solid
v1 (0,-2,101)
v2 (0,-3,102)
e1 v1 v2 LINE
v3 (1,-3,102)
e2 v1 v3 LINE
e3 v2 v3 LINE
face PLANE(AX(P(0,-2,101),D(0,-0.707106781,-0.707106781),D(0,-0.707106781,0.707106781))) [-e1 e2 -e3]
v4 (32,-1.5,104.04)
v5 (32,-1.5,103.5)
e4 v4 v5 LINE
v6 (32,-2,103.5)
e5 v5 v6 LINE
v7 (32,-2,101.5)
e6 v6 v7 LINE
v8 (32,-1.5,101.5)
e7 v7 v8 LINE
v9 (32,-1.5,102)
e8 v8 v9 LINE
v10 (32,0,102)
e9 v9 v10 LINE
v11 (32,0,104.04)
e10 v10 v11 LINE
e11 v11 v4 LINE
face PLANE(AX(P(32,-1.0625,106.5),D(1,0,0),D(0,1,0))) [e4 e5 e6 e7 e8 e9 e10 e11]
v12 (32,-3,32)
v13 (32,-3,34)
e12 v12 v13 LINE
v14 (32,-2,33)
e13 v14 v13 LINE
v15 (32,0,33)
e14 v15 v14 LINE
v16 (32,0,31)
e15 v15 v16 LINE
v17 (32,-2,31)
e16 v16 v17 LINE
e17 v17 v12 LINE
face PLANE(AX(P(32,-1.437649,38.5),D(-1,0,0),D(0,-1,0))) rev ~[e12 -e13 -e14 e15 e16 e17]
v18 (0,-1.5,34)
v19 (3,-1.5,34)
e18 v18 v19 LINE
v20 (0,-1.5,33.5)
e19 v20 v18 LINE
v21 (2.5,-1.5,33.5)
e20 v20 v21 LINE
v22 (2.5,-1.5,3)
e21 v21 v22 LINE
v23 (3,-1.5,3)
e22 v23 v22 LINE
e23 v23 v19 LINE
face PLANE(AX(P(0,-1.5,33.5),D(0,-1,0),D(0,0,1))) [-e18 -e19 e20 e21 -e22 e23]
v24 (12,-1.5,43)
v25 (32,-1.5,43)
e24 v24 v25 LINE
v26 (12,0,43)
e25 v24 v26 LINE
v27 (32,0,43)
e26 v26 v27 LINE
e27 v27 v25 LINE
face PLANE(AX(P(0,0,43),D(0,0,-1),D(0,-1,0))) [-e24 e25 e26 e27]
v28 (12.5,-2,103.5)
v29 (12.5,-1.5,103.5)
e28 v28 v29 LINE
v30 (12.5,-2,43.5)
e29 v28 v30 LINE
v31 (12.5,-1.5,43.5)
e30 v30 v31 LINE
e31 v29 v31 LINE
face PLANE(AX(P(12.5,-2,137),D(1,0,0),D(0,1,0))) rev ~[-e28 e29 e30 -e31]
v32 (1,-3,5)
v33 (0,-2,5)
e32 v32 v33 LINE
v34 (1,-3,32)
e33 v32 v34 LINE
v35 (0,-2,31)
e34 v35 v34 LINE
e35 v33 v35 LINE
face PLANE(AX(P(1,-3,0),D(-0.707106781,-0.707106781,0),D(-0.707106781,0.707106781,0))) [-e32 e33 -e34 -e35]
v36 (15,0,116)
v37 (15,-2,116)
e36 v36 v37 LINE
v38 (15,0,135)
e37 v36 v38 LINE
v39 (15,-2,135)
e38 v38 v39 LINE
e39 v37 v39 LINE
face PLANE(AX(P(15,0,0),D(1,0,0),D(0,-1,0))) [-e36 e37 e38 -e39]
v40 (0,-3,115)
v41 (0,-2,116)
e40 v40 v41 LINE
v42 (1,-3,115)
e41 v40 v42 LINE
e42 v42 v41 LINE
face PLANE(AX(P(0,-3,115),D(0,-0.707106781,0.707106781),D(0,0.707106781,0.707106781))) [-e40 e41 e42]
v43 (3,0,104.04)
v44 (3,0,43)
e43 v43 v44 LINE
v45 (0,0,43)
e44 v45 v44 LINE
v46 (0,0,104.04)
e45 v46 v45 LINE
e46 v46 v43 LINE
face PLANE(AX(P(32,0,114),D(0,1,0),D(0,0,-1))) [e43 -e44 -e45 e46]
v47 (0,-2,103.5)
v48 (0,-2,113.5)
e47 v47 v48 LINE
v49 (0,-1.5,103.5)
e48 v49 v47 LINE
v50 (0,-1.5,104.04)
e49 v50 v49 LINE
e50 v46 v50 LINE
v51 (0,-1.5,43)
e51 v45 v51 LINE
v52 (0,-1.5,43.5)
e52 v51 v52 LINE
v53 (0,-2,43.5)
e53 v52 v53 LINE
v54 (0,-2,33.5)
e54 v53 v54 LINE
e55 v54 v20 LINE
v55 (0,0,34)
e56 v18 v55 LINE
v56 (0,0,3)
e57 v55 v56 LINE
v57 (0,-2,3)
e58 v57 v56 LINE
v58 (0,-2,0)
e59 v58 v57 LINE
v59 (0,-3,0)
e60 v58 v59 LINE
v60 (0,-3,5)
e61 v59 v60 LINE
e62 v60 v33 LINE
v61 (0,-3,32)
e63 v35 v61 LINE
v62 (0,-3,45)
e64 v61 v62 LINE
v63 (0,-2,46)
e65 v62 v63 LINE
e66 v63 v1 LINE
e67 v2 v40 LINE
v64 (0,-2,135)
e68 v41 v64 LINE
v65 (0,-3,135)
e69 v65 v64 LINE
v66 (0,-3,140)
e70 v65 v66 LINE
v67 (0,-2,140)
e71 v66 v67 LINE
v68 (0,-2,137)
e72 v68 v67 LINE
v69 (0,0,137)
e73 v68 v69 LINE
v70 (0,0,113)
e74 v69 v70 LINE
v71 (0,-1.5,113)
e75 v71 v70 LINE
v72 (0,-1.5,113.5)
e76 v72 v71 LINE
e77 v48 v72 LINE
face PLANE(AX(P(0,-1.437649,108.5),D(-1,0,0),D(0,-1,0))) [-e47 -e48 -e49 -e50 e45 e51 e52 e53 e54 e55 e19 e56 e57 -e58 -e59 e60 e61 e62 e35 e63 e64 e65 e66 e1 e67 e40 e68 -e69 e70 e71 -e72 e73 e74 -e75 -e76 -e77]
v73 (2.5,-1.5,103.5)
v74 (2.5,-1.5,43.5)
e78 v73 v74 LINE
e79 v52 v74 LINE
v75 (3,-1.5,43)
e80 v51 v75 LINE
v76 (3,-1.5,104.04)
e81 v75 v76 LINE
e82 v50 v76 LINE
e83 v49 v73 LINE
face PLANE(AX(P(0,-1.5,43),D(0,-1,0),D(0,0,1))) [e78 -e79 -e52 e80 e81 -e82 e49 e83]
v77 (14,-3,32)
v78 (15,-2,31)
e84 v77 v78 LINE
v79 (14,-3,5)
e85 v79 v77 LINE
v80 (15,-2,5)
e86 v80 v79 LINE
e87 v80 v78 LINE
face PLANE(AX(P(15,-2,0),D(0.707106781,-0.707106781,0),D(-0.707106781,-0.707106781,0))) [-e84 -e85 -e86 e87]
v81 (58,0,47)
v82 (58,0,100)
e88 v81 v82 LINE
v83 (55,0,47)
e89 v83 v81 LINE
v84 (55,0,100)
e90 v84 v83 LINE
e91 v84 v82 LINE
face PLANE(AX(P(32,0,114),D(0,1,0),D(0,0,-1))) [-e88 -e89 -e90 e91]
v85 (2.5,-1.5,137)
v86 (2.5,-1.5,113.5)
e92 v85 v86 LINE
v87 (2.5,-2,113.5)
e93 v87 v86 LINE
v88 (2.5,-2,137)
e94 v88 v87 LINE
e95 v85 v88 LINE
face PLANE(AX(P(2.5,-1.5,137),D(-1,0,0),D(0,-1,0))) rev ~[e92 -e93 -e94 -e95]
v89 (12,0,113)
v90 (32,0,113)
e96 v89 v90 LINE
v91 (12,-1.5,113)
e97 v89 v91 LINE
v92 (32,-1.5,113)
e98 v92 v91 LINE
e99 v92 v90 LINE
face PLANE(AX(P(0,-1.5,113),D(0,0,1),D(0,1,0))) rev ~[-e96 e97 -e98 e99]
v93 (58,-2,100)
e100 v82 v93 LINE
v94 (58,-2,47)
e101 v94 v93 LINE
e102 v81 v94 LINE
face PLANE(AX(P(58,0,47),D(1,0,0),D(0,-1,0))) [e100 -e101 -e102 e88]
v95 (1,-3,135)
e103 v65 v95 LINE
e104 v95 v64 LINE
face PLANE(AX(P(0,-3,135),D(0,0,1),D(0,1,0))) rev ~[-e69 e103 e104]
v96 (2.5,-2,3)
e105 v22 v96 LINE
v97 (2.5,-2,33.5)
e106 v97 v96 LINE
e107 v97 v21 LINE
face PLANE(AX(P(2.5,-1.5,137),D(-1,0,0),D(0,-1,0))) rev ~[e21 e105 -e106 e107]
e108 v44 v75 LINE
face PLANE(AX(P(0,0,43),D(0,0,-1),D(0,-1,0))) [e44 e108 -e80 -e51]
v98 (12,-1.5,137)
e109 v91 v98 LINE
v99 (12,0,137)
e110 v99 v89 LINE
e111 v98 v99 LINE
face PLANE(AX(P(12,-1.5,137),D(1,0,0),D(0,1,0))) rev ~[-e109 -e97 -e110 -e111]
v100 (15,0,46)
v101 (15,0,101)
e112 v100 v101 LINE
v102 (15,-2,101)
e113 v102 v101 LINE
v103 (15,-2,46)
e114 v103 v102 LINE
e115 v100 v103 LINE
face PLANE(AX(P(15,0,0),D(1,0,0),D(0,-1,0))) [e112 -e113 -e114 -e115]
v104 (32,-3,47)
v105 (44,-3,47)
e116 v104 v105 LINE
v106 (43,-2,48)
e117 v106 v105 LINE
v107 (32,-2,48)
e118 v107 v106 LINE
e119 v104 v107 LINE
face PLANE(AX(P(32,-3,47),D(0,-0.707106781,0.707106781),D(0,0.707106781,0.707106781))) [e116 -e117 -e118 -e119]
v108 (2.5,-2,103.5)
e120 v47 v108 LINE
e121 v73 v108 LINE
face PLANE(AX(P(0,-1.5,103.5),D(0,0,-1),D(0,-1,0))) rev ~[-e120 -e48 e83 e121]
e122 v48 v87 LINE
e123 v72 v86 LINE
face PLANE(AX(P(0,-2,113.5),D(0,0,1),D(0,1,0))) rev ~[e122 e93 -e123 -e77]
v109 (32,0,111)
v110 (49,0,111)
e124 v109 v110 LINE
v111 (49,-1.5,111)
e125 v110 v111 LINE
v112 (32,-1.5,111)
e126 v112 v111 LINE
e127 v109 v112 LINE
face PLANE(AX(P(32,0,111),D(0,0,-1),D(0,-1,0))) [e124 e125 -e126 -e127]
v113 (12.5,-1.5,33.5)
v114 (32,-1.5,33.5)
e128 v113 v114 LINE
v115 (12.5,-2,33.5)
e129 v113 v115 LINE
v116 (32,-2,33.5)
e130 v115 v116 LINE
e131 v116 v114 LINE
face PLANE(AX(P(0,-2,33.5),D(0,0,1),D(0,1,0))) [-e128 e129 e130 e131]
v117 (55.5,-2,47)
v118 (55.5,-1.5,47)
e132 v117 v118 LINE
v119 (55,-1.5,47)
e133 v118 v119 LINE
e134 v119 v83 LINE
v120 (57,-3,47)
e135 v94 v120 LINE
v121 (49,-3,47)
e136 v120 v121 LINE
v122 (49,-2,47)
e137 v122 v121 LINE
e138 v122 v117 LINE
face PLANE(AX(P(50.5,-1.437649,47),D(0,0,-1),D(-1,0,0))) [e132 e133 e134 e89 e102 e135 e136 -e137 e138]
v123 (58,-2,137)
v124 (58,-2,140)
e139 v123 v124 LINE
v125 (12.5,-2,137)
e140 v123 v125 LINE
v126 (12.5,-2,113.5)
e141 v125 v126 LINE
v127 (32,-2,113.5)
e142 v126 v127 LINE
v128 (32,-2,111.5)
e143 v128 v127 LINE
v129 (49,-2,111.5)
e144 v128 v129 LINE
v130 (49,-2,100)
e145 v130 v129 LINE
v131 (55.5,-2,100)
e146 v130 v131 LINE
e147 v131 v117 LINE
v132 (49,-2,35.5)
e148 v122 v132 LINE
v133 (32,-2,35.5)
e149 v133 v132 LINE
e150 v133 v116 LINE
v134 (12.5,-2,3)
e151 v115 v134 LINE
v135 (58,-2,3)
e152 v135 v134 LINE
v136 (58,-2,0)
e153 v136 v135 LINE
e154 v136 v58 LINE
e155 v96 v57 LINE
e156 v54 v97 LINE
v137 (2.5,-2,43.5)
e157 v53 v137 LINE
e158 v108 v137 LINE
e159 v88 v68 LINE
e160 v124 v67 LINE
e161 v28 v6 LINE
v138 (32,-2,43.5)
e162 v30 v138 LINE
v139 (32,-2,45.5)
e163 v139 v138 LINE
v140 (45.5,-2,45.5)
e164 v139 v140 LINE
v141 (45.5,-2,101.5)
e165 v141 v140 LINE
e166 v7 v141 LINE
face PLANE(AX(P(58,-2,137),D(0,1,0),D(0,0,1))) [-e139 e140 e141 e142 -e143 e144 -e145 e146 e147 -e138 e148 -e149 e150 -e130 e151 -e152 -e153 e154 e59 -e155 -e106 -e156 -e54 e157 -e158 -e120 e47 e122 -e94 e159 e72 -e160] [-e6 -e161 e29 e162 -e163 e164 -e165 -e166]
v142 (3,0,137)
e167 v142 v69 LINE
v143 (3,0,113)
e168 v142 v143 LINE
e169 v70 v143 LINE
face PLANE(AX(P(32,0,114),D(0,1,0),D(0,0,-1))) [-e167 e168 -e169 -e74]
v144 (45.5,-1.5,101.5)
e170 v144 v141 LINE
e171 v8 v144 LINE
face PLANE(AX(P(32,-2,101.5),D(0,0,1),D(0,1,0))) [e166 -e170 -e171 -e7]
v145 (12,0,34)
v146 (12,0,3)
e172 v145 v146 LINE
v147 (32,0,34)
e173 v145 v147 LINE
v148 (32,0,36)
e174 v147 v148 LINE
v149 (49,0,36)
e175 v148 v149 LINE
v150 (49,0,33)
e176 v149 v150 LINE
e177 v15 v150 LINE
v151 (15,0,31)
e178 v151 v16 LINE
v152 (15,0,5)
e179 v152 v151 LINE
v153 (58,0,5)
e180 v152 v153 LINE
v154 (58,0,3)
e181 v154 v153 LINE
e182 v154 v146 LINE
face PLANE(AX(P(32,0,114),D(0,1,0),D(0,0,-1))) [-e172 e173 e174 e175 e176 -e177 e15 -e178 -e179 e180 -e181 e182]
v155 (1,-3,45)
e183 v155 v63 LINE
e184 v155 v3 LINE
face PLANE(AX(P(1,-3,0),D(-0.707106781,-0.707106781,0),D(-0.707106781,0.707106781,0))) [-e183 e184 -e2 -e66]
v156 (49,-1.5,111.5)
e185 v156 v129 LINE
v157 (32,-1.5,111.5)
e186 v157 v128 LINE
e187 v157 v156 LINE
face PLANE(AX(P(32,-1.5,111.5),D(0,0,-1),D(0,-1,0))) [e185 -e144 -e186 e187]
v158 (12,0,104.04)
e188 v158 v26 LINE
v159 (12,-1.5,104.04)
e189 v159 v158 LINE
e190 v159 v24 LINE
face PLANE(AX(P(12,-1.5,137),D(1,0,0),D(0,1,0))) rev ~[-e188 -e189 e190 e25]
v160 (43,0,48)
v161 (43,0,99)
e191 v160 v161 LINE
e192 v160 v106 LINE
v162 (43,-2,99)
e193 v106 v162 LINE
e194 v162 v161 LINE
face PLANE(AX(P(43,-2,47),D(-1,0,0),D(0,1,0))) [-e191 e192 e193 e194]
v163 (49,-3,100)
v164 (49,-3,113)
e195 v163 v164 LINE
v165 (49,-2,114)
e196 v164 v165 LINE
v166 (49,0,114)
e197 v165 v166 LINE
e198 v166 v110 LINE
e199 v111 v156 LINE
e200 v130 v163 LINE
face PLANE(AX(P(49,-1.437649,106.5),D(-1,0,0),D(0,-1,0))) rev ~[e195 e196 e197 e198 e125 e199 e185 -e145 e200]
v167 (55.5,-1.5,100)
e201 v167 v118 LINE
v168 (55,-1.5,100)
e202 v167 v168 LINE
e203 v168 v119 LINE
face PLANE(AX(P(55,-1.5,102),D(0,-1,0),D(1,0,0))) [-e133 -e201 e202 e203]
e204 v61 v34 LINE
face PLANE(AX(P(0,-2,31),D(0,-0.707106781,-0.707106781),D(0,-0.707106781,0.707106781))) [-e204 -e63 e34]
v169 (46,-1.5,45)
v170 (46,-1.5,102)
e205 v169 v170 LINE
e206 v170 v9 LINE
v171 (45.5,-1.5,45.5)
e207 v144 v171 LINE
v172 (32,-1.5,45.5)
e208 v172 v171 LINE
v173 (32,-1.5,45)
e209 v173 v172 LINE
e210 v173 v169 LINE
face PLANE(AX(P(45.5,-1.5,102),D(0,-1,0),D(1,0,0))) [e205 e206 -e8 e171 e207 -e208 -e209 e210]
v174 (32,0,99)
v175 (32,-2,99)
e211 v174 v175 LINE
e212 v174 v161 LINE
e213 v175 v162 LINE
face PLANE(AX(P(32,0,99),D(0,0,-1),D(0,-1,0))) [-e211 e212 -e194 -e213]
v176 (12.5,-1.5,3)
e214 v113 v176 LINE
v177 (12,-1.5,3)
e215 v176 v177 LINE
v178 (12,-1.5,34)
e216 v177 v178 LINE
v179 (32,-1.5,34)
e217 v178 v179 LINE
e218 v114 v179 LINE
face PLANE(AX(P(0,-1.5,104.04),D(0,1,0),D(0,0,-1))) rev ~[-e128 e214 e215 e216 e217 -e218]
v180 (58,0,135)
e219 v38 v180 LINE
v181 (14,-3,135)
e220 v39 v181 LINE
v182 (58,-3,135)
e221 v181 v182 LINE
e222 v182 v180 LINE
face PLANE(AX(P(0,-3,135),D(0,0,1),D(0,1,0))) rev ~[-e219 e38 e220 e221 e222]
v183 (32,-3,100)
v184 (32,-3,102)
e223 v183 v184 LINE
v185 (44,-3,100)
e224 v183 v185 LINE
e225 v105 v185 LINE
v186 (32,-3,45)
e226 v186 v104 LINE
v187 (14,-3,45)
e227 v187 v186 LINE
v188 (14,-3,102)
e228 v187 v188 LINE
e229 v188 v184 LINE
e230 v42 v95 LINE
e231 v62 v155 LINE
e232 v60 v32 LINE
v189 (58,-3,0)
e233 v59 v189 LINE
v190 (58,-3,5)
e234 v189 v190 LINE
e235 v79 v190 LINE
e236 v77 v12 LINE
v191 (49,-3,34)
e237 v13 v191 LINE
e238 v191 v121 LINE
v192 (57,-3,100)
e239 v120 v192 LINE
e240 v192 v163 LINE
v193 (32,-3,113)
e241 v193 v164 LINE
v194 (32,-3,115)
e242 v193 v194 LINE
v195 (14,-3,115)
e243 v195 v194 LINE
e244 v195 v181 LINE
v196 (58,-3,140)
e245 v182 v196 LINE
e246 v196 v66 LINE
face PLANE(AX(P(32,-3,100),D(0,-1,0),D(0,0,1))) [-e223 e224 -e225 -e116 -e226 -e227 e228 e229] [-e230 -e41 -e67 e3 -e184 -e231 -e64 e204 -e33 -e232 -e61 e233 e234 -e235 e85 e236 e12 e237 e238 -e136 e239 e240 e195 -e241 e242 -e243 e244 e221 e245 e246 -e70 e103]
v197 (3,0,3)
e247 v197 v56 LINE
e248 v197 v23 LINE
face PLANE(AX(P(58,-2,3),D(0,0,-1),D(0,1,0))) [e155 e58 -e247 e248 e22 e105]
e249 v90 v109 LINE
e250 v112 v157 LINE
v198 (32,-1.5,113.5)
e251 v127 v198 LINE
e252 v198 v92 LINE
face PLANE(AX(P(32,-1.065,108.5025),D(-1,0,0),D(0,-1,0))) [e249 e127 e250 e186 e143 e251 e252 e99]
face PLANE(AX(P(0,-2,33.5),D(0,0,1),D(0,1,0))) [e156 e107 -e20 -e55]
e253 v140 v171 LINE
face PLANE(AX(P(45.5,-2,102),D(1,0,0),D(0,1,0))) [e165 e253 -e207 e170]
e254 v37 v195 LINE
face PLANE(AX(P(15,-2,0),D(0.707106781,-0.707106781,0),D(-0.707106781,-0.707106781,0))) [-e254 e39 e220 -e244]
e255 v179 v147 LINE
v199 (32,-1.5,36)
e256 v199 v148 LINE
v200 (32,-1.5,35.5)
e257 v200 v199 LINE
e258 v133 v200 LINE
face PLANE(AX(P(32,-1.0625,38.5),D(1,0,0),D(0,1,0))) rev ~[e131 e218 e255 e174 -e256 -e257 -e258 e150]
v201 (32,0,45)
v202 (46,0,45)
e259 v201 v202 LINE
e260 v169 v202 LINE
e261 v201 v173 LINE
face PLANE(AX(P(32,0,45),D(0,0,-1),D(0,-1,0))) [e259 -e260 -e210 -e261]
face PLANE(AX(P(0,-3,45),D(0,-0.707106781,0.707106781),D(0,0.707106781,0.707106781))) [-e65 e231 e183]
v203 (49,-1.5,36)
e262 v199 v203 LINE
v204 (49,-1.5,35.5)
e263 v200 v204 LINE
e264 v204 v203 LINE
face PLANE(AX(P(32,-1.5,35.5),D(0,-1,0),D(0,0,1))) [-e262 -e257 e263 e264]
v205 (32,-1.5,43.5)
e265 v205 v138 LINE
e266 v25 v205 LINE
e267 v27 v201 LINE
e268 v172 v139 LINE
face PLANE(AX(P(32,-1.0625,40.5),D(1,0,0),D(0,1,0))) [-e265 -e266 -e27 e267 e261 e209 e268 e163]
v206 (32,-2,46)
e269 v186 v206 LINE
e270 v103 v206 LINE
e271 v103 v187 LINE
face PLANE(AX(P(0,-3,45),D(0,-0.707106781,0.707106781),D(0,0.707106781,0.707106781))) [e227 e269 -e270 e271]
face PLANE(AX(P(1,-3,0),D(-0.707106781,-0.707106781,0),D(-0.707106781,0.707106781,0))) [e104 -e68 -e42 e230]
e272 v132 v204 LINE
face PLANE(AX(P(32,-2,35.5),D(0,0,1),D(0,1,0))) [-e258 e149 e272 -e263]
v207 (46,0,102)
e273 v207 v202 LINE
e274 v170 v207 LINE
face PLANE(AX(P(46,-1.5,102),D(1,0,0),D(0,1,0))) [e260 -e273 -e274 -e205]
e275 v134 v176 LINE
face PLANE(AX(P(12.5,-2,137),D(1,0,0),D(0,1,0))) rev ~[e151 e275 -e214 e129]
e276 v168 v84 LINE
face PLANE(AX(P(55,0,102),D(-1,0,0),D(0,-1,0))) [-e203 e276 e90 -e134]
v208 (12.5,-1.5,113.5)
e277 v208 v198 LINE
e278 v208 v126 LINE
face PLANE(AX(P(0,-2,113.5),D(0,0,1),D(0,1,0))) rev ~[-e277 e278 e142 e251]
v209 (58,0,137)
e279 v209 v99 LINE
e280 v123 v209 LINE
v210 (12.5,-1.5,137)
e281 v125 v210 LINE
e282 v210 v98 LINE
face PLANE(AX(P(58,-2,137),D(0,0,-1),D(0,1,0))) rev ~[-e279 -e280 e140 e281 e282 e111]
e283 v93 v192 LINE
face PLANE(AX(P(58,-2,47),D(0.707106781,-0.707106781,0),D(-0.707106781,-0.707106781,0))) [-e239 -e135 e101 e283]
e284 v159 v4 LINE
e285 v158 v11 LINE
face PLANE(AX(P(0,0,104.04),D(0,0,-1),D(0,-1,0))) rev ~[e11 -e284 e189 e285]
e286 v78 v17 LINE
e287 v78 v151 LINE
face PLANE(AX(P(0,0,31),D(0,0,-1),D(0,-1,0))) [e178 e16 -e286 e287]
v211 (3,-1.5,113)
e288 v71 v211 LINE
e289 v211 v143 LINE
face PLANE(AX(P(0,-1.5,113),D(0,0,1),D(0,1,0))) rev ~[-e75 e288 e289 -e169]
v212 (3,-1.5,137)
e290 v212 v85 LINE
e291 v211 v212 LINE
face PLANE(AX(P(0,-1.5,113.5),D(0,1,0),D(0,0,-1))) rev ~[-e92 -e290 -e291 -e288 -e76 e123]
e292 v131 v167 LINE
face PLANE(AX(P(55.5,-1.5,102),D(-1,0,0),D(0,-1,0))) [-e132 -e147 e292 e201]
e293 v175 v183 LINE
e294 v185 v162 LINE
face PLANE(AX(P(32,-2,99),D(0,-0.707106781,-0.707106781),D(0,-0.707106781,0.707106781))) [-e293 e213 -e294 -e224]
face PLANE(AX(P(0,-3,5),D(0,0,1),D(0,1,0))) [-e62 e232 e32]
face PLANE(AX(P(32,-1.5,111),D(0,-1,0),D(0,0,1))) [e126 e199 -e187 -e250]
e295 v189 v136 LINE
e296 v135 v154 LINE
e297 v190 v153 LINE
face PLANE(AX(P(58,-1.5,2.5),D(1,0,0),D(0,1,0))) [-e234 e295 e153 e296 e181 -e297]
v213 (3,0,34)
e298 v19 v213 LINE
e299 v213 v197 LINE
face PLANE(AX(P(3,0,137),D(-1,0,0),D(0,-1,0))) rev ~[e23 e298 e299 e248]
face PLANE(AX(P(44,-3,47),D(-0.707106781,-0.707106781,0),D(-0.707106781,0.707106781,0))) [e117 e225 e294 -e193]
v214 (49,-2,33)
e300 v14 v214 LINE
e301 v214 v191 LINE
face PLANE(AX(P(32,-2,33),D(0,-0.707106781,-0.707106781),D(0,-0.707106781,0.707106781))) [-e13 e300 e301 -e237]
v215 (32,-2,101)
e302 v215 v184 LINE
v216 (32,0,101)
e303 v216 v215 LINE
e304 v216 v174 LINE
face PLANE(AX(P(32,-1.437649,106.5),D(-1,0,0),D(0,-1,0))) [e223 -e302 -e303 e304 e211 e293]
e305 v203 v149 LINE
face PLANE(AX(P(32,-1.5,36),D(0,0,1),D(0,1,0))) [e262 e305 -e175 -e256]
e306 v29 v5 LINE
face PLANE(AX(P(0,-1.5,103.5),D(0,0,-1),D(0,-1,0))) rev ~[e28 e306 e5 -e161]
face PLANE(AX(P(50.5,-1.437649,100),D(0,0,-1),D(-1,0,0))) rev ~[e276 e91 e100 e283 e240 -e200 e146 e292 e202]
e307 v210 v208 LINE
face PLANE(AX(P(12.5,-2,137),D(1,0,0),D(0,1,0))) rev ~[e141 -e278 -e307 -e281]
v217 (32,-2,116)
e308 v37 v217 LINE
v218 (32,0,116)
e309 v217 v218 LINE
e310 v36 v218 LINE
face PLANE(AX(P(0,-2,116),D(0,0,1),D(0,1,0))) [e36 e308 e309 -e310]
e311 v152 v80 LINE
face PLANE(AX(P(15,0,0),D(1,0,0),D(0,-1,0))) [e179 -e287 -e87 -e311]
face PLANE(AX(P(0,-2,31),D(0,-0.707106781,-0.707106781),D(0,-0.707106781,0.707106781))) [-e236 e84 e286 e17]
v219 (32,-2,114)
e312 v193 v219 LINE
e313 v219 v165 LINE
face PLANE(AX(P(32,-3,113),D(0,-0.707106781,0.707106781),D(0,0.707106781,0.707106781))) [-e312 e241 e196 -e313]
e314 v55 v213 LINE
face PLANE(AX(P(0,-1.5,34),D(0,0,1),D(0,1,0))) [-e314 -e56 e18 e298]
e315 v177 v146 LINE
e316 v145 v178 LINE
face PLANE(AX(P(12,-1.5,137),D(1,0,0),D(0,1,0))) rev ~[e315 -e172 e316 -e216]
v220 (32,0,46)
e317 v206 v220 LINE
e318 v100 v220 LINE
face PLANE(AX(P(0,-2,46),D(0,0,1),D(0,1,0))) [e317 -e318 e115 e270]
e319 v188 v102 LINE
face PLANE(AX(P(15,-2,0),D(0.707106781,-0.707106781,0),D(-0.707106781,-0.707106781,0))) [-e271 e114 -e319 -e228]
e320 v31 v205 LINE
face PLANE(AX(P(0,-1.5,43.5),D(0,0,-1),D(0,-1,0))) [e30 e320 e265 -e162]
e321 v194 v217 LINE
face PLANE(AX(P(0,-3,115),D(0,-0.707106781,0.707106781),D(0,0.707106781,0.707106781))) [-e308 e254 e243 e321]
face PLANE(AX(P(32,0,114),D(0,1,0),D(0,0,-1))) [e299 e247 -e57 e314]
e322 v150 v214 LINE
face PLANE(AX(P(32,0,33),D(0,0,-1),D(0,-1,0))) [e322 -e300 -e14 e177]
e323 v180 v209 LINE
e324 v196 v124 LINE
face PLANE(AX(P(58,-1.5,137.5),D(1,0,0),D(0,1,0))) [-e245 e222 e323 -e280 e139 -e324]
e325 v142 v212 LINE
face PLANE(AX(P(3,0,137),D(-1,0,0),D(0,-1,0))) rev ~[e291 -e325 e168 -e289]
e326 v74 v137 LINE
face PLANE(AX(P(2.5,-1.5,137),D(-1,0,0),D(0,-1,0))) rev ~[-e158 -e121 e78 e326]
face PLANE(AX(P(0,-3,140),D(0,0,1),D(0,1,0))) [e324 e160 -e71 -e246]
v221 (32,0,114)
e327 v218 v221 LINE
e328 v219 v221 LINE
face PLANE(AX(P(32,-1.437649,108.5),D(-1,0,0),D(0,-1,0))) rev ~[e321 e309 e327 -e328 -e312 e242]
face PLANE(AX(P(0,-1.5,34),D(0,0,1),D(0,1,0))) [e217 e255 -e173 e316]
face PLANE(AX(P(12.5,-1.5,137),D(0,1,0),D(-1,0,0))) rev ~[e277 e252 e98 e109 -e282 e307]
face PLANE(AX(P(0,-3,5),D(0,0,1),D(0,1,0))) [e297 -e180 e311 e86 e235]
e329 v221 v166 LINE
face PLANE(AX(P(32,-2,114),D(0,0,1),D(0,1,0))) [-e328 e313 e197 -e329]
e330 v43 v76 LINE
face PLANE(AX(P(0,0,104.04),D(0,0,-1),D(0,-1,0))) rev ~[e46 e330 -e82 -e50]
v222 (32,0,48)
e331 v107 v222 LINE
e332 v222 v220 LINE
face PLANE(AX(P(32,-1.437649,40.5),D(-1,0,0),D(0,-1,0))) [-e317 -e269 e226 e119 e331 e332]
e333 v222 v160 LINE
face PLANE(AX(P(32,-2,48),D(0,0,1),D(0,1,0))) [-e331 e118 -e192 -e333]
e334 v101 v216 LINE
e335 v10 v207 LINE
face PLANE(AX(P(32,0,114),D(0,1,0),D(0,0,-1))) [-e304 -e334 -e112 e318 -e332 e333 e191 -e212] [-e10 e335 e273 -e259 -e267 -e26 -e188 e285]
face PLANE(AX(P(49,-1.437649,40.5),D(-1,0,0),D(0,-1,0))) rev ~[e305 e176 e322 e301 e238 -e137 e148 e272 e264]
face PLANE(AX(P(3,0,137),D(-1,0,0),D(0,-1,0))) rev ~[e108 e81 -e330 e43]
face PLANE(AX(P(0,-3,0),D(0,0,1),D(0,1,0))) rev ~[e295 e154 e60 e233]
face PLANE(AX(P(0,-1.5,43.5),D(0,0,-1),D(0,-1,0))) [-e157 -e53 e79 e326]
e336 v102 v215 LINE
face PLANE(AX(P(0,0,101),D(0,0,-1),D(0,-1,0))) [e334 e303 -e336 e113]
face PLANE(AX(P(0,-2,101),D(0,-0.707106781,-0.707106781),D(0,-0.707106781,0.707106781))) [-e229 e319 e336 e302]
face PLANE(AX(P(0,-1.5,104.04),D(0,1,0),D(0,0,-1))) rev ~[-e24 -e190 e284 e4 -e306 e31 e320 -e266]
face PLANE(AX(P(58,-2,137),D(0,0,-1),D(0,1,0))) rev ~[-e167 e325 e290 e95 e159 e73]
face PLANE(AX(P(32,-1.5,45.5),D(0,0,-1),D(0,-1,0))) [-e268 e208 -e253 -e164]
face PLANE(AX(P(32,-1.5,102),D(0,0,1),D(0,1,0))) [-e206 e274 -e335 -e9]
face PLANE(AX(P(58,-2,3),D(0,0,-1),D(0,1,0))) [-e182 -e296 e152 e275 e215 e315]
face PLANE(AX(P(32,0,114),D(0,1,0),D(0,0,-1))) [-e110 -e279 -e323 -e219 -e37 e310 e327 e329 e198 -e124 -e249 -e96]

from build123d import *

# Parameters (mm, degrees)
PAD_DEPTH       = 140
SKETCH001_W     = 3
SKETCH001_H     = 5
PAD001_DEPTH    = 58
SKETCH002_W     = 2
SKETCH002_H     = 3
POCKET_DEPTH    = 58
SKETCH003_W     = 3
SKETCH003_H     = 5
PAD002_DEPTH    = 58
SKETCH004_W     = 2
SKETCH004_H     = 3
POCKET001_DEPTH = 58
PAD003_DEPTH    = 32
PAD004_DEPTH    = 32
PAD005_DEPTH    = 17
PAD006_DEPTH    = 17
PAD007_DEPTH    = 53
POCKET002_DEPTH = 134
POCKET003_DEPTH = 57
POCKET004_DEPTH = 32
POCKET005_DEPTH = 17
POCKET006_DEPTH = 17
POCKET007_DEPTH = 32


with BuildPart() as part:
    # Sketch → Pad (new body)
    with BuildSketch(Plane.XY):
        Polygon((0, 0), (15, 0), (15, -2), (14, -3), (1, -3), (0, -2), align=None)
    extrude(amount=PAD_DEPTH)

    # Sketch001 (on Face2 of Pad) → Pad001 (join)
    with BuildSketch(Plane.YZ):
        with Locations((-1.5, 137.5)):
            Rectangle(SKETCH001_W, SKETCH001_H)
    extrude(amount=PAD001_DEPTH)

    # Sketch002 (on Face15 of Pad001) → Pocket (cut)
    with BuildSketch(Plane.YZ.offset(58)):
        with Locations((-1, 138.5)):
            Rectangle(SKETCH002_W, SKETCH002_H)
    extrude(amount=-POCKET_DEPTH, mode=Mode.SUBTRACT)

    # Sketch003 (on Face3 of Pocket) → Pad002 (join)
    with BuildSketch(Plane.YZ):
        with Locations((-1.5, 2.5)):
            Rectangle(SKETCH003_W, SKETCH003_H)
    extrude(amount=PAD002_DEPTH)

    # Sketch004 (on Face9 of Pad002) → Pocket001 (cut)
    with BuildSketch(Plane.YZ.offset(58)):
        with Locations((-1, 1.5)):
            Rectangle(SKETCH004_W, SKETCH004_H)
    extrude(amount=-POCKET001_DEPTH, mode=Mode.SUBTRACT)

    # Sketch005 (on Face9 of Pocket001) → Pad003 (join)
    with BuildSketch(Plane.YZ):
        Polygon((0, 31), (-2, 31), (-3, 32), (-3, 45), (-2, 46), (0, 46), align=None)
    extrude(amount=PAD003_DEPTH)

    # Sketch006 (on Face30 of Pad003) → Pad004 (join)
    with BuildSketch(Plane.YZ):
        Polygon((0, 116), (0, 101), (-2, 101), (-3, 102), (-3, 115), (-2, 116), align=None)
    extrude(amount=PAD004_DEPTH)

    # Sketch007 (on Face28 of Pad004) → Pad005 (join)
    with BuildSketch(Plane.YZ.offset(32)):
        Polygon((0, 48), (0, 33), (-2, 33), (-3, 34), (-3, 47), (-2, 48), align=None)
    extrude(amount=PAD005_DEPTH)

    # Sketch008 (on Face56 of Pad005) → Pad006 (join)
    with BuildSketch(Plane.YZ.offset(32)):
        Polygon((-2, 114), (0, 114), (0, 99), (-2, 99), (-3, 100), (-3, 113), align=None)
    extrude(amount=PAD006_DEPTH)

    # Sketch009 (on Face40 of Pad006) → Pad007 (join)
    with BuildSketch(Plane.XY.offset(47)):
        Polygon((43, 0), (58, 0), (58, -2), (57, -3), (44, -3), (43, -2), align=None)
    extrude(amount=PAD007_DEPTH)

    # Sketch010 (on Face87 of Pad007) → Pocket002 (cut)
    with BuildSketch(Plane.XY.offset(137)):
        Polygon((2.5, -2), (12.5, -2), (12.5, -1.5), (12, -1.5), (12, 0), (3, 0), (3, -1.5), (2.5, -1.5), align=None)
    extrude(amount=-POCKET002_DEPTH, mode=Mode.SUBTRACT)

    # Sketch011 (on Face103 of Pocket002) → Pocket003 (cut)
    with BuildSketch(Plane.XY.offset(102)):
        Polygon((55.5, -2), (45.5, -2), (45.5, -1.5), (46, -1.5), (46, 0), (55, 0), (55, -1.5), (55.5, -1.5), align=None)
    extrude(amount=-POCKET003_DEPTH, mode=Mode.SUBTRACT)

    # Sketch012 (on Face112 of Pocket003) → Pocket004 (cut)
    with BuildSketch(Plane(origin=(0, 0, 0), x_dir=(0, -1, 0), z_dir=(-1, 0, 0))):
        Polygon((2, 113.5), (1.5, 113.5), (1.5, 113), (0, 113), (0, 104.04), (1.5, 104.04), (1.5, 103.5), (2, 103.5), align=None)
    extrude(amount=-POCKET004_DEPTH, mode=Mode.SUBTRACT)

    # Sketch013 (on Face70 of Pocket004) → Pocket005 (cut)
    with BuildSketch(Plane(origin=(32, 0, 0), x_dir=(0, -1, 0), z_dir=(-1, 0, 0))):
        Polygon((0, 111), (1.5, 111), (1.5, 111.5), (2, 111.5), (2, 101.5), (1.5, 101.5), (1.5, 102), (0, 102), align=None)
    extrude(amount=-POCKET005_DEPTH, mode=Mode.SUBTRACT)

    # Sketch014 (on Face59 of Pocket005) → Pocket006 (cut)
    with BuildSketch(Plane(origin=(32, 0, 0), x_dir=(0, -1, 0), z_dir=(-1, 0, 0))):
        Polygon((0, 45), (1.5, 45), (1.5, 45.5), (2, 45.5), (2, 35.5), (1.5, 35.5), (1.5, 36), (0, 36), align=None)
    extrude(amount=-POCKET006_DEPTH, mode=Mode.SUBTRACT)

    # Sketch015 (on Face127 of Pocket006) → Pocket007 (cut)
    with BuildSketch(Plane(origin=(0, 0, 0), x_dir=(0, -1, 0), z_dir=(-1, 0, 0))):
        Polygon((2, 33.5), (1.5, 33.5), (1.5, 34), (0, 34), (0, 43), (1.5, 43), (1.5, 43.5), (2, 43.5), align=None)
    extrude(amount=-POCKET007_DEPTH, mode=Mode.SUBTRACT)


solid = part.part
